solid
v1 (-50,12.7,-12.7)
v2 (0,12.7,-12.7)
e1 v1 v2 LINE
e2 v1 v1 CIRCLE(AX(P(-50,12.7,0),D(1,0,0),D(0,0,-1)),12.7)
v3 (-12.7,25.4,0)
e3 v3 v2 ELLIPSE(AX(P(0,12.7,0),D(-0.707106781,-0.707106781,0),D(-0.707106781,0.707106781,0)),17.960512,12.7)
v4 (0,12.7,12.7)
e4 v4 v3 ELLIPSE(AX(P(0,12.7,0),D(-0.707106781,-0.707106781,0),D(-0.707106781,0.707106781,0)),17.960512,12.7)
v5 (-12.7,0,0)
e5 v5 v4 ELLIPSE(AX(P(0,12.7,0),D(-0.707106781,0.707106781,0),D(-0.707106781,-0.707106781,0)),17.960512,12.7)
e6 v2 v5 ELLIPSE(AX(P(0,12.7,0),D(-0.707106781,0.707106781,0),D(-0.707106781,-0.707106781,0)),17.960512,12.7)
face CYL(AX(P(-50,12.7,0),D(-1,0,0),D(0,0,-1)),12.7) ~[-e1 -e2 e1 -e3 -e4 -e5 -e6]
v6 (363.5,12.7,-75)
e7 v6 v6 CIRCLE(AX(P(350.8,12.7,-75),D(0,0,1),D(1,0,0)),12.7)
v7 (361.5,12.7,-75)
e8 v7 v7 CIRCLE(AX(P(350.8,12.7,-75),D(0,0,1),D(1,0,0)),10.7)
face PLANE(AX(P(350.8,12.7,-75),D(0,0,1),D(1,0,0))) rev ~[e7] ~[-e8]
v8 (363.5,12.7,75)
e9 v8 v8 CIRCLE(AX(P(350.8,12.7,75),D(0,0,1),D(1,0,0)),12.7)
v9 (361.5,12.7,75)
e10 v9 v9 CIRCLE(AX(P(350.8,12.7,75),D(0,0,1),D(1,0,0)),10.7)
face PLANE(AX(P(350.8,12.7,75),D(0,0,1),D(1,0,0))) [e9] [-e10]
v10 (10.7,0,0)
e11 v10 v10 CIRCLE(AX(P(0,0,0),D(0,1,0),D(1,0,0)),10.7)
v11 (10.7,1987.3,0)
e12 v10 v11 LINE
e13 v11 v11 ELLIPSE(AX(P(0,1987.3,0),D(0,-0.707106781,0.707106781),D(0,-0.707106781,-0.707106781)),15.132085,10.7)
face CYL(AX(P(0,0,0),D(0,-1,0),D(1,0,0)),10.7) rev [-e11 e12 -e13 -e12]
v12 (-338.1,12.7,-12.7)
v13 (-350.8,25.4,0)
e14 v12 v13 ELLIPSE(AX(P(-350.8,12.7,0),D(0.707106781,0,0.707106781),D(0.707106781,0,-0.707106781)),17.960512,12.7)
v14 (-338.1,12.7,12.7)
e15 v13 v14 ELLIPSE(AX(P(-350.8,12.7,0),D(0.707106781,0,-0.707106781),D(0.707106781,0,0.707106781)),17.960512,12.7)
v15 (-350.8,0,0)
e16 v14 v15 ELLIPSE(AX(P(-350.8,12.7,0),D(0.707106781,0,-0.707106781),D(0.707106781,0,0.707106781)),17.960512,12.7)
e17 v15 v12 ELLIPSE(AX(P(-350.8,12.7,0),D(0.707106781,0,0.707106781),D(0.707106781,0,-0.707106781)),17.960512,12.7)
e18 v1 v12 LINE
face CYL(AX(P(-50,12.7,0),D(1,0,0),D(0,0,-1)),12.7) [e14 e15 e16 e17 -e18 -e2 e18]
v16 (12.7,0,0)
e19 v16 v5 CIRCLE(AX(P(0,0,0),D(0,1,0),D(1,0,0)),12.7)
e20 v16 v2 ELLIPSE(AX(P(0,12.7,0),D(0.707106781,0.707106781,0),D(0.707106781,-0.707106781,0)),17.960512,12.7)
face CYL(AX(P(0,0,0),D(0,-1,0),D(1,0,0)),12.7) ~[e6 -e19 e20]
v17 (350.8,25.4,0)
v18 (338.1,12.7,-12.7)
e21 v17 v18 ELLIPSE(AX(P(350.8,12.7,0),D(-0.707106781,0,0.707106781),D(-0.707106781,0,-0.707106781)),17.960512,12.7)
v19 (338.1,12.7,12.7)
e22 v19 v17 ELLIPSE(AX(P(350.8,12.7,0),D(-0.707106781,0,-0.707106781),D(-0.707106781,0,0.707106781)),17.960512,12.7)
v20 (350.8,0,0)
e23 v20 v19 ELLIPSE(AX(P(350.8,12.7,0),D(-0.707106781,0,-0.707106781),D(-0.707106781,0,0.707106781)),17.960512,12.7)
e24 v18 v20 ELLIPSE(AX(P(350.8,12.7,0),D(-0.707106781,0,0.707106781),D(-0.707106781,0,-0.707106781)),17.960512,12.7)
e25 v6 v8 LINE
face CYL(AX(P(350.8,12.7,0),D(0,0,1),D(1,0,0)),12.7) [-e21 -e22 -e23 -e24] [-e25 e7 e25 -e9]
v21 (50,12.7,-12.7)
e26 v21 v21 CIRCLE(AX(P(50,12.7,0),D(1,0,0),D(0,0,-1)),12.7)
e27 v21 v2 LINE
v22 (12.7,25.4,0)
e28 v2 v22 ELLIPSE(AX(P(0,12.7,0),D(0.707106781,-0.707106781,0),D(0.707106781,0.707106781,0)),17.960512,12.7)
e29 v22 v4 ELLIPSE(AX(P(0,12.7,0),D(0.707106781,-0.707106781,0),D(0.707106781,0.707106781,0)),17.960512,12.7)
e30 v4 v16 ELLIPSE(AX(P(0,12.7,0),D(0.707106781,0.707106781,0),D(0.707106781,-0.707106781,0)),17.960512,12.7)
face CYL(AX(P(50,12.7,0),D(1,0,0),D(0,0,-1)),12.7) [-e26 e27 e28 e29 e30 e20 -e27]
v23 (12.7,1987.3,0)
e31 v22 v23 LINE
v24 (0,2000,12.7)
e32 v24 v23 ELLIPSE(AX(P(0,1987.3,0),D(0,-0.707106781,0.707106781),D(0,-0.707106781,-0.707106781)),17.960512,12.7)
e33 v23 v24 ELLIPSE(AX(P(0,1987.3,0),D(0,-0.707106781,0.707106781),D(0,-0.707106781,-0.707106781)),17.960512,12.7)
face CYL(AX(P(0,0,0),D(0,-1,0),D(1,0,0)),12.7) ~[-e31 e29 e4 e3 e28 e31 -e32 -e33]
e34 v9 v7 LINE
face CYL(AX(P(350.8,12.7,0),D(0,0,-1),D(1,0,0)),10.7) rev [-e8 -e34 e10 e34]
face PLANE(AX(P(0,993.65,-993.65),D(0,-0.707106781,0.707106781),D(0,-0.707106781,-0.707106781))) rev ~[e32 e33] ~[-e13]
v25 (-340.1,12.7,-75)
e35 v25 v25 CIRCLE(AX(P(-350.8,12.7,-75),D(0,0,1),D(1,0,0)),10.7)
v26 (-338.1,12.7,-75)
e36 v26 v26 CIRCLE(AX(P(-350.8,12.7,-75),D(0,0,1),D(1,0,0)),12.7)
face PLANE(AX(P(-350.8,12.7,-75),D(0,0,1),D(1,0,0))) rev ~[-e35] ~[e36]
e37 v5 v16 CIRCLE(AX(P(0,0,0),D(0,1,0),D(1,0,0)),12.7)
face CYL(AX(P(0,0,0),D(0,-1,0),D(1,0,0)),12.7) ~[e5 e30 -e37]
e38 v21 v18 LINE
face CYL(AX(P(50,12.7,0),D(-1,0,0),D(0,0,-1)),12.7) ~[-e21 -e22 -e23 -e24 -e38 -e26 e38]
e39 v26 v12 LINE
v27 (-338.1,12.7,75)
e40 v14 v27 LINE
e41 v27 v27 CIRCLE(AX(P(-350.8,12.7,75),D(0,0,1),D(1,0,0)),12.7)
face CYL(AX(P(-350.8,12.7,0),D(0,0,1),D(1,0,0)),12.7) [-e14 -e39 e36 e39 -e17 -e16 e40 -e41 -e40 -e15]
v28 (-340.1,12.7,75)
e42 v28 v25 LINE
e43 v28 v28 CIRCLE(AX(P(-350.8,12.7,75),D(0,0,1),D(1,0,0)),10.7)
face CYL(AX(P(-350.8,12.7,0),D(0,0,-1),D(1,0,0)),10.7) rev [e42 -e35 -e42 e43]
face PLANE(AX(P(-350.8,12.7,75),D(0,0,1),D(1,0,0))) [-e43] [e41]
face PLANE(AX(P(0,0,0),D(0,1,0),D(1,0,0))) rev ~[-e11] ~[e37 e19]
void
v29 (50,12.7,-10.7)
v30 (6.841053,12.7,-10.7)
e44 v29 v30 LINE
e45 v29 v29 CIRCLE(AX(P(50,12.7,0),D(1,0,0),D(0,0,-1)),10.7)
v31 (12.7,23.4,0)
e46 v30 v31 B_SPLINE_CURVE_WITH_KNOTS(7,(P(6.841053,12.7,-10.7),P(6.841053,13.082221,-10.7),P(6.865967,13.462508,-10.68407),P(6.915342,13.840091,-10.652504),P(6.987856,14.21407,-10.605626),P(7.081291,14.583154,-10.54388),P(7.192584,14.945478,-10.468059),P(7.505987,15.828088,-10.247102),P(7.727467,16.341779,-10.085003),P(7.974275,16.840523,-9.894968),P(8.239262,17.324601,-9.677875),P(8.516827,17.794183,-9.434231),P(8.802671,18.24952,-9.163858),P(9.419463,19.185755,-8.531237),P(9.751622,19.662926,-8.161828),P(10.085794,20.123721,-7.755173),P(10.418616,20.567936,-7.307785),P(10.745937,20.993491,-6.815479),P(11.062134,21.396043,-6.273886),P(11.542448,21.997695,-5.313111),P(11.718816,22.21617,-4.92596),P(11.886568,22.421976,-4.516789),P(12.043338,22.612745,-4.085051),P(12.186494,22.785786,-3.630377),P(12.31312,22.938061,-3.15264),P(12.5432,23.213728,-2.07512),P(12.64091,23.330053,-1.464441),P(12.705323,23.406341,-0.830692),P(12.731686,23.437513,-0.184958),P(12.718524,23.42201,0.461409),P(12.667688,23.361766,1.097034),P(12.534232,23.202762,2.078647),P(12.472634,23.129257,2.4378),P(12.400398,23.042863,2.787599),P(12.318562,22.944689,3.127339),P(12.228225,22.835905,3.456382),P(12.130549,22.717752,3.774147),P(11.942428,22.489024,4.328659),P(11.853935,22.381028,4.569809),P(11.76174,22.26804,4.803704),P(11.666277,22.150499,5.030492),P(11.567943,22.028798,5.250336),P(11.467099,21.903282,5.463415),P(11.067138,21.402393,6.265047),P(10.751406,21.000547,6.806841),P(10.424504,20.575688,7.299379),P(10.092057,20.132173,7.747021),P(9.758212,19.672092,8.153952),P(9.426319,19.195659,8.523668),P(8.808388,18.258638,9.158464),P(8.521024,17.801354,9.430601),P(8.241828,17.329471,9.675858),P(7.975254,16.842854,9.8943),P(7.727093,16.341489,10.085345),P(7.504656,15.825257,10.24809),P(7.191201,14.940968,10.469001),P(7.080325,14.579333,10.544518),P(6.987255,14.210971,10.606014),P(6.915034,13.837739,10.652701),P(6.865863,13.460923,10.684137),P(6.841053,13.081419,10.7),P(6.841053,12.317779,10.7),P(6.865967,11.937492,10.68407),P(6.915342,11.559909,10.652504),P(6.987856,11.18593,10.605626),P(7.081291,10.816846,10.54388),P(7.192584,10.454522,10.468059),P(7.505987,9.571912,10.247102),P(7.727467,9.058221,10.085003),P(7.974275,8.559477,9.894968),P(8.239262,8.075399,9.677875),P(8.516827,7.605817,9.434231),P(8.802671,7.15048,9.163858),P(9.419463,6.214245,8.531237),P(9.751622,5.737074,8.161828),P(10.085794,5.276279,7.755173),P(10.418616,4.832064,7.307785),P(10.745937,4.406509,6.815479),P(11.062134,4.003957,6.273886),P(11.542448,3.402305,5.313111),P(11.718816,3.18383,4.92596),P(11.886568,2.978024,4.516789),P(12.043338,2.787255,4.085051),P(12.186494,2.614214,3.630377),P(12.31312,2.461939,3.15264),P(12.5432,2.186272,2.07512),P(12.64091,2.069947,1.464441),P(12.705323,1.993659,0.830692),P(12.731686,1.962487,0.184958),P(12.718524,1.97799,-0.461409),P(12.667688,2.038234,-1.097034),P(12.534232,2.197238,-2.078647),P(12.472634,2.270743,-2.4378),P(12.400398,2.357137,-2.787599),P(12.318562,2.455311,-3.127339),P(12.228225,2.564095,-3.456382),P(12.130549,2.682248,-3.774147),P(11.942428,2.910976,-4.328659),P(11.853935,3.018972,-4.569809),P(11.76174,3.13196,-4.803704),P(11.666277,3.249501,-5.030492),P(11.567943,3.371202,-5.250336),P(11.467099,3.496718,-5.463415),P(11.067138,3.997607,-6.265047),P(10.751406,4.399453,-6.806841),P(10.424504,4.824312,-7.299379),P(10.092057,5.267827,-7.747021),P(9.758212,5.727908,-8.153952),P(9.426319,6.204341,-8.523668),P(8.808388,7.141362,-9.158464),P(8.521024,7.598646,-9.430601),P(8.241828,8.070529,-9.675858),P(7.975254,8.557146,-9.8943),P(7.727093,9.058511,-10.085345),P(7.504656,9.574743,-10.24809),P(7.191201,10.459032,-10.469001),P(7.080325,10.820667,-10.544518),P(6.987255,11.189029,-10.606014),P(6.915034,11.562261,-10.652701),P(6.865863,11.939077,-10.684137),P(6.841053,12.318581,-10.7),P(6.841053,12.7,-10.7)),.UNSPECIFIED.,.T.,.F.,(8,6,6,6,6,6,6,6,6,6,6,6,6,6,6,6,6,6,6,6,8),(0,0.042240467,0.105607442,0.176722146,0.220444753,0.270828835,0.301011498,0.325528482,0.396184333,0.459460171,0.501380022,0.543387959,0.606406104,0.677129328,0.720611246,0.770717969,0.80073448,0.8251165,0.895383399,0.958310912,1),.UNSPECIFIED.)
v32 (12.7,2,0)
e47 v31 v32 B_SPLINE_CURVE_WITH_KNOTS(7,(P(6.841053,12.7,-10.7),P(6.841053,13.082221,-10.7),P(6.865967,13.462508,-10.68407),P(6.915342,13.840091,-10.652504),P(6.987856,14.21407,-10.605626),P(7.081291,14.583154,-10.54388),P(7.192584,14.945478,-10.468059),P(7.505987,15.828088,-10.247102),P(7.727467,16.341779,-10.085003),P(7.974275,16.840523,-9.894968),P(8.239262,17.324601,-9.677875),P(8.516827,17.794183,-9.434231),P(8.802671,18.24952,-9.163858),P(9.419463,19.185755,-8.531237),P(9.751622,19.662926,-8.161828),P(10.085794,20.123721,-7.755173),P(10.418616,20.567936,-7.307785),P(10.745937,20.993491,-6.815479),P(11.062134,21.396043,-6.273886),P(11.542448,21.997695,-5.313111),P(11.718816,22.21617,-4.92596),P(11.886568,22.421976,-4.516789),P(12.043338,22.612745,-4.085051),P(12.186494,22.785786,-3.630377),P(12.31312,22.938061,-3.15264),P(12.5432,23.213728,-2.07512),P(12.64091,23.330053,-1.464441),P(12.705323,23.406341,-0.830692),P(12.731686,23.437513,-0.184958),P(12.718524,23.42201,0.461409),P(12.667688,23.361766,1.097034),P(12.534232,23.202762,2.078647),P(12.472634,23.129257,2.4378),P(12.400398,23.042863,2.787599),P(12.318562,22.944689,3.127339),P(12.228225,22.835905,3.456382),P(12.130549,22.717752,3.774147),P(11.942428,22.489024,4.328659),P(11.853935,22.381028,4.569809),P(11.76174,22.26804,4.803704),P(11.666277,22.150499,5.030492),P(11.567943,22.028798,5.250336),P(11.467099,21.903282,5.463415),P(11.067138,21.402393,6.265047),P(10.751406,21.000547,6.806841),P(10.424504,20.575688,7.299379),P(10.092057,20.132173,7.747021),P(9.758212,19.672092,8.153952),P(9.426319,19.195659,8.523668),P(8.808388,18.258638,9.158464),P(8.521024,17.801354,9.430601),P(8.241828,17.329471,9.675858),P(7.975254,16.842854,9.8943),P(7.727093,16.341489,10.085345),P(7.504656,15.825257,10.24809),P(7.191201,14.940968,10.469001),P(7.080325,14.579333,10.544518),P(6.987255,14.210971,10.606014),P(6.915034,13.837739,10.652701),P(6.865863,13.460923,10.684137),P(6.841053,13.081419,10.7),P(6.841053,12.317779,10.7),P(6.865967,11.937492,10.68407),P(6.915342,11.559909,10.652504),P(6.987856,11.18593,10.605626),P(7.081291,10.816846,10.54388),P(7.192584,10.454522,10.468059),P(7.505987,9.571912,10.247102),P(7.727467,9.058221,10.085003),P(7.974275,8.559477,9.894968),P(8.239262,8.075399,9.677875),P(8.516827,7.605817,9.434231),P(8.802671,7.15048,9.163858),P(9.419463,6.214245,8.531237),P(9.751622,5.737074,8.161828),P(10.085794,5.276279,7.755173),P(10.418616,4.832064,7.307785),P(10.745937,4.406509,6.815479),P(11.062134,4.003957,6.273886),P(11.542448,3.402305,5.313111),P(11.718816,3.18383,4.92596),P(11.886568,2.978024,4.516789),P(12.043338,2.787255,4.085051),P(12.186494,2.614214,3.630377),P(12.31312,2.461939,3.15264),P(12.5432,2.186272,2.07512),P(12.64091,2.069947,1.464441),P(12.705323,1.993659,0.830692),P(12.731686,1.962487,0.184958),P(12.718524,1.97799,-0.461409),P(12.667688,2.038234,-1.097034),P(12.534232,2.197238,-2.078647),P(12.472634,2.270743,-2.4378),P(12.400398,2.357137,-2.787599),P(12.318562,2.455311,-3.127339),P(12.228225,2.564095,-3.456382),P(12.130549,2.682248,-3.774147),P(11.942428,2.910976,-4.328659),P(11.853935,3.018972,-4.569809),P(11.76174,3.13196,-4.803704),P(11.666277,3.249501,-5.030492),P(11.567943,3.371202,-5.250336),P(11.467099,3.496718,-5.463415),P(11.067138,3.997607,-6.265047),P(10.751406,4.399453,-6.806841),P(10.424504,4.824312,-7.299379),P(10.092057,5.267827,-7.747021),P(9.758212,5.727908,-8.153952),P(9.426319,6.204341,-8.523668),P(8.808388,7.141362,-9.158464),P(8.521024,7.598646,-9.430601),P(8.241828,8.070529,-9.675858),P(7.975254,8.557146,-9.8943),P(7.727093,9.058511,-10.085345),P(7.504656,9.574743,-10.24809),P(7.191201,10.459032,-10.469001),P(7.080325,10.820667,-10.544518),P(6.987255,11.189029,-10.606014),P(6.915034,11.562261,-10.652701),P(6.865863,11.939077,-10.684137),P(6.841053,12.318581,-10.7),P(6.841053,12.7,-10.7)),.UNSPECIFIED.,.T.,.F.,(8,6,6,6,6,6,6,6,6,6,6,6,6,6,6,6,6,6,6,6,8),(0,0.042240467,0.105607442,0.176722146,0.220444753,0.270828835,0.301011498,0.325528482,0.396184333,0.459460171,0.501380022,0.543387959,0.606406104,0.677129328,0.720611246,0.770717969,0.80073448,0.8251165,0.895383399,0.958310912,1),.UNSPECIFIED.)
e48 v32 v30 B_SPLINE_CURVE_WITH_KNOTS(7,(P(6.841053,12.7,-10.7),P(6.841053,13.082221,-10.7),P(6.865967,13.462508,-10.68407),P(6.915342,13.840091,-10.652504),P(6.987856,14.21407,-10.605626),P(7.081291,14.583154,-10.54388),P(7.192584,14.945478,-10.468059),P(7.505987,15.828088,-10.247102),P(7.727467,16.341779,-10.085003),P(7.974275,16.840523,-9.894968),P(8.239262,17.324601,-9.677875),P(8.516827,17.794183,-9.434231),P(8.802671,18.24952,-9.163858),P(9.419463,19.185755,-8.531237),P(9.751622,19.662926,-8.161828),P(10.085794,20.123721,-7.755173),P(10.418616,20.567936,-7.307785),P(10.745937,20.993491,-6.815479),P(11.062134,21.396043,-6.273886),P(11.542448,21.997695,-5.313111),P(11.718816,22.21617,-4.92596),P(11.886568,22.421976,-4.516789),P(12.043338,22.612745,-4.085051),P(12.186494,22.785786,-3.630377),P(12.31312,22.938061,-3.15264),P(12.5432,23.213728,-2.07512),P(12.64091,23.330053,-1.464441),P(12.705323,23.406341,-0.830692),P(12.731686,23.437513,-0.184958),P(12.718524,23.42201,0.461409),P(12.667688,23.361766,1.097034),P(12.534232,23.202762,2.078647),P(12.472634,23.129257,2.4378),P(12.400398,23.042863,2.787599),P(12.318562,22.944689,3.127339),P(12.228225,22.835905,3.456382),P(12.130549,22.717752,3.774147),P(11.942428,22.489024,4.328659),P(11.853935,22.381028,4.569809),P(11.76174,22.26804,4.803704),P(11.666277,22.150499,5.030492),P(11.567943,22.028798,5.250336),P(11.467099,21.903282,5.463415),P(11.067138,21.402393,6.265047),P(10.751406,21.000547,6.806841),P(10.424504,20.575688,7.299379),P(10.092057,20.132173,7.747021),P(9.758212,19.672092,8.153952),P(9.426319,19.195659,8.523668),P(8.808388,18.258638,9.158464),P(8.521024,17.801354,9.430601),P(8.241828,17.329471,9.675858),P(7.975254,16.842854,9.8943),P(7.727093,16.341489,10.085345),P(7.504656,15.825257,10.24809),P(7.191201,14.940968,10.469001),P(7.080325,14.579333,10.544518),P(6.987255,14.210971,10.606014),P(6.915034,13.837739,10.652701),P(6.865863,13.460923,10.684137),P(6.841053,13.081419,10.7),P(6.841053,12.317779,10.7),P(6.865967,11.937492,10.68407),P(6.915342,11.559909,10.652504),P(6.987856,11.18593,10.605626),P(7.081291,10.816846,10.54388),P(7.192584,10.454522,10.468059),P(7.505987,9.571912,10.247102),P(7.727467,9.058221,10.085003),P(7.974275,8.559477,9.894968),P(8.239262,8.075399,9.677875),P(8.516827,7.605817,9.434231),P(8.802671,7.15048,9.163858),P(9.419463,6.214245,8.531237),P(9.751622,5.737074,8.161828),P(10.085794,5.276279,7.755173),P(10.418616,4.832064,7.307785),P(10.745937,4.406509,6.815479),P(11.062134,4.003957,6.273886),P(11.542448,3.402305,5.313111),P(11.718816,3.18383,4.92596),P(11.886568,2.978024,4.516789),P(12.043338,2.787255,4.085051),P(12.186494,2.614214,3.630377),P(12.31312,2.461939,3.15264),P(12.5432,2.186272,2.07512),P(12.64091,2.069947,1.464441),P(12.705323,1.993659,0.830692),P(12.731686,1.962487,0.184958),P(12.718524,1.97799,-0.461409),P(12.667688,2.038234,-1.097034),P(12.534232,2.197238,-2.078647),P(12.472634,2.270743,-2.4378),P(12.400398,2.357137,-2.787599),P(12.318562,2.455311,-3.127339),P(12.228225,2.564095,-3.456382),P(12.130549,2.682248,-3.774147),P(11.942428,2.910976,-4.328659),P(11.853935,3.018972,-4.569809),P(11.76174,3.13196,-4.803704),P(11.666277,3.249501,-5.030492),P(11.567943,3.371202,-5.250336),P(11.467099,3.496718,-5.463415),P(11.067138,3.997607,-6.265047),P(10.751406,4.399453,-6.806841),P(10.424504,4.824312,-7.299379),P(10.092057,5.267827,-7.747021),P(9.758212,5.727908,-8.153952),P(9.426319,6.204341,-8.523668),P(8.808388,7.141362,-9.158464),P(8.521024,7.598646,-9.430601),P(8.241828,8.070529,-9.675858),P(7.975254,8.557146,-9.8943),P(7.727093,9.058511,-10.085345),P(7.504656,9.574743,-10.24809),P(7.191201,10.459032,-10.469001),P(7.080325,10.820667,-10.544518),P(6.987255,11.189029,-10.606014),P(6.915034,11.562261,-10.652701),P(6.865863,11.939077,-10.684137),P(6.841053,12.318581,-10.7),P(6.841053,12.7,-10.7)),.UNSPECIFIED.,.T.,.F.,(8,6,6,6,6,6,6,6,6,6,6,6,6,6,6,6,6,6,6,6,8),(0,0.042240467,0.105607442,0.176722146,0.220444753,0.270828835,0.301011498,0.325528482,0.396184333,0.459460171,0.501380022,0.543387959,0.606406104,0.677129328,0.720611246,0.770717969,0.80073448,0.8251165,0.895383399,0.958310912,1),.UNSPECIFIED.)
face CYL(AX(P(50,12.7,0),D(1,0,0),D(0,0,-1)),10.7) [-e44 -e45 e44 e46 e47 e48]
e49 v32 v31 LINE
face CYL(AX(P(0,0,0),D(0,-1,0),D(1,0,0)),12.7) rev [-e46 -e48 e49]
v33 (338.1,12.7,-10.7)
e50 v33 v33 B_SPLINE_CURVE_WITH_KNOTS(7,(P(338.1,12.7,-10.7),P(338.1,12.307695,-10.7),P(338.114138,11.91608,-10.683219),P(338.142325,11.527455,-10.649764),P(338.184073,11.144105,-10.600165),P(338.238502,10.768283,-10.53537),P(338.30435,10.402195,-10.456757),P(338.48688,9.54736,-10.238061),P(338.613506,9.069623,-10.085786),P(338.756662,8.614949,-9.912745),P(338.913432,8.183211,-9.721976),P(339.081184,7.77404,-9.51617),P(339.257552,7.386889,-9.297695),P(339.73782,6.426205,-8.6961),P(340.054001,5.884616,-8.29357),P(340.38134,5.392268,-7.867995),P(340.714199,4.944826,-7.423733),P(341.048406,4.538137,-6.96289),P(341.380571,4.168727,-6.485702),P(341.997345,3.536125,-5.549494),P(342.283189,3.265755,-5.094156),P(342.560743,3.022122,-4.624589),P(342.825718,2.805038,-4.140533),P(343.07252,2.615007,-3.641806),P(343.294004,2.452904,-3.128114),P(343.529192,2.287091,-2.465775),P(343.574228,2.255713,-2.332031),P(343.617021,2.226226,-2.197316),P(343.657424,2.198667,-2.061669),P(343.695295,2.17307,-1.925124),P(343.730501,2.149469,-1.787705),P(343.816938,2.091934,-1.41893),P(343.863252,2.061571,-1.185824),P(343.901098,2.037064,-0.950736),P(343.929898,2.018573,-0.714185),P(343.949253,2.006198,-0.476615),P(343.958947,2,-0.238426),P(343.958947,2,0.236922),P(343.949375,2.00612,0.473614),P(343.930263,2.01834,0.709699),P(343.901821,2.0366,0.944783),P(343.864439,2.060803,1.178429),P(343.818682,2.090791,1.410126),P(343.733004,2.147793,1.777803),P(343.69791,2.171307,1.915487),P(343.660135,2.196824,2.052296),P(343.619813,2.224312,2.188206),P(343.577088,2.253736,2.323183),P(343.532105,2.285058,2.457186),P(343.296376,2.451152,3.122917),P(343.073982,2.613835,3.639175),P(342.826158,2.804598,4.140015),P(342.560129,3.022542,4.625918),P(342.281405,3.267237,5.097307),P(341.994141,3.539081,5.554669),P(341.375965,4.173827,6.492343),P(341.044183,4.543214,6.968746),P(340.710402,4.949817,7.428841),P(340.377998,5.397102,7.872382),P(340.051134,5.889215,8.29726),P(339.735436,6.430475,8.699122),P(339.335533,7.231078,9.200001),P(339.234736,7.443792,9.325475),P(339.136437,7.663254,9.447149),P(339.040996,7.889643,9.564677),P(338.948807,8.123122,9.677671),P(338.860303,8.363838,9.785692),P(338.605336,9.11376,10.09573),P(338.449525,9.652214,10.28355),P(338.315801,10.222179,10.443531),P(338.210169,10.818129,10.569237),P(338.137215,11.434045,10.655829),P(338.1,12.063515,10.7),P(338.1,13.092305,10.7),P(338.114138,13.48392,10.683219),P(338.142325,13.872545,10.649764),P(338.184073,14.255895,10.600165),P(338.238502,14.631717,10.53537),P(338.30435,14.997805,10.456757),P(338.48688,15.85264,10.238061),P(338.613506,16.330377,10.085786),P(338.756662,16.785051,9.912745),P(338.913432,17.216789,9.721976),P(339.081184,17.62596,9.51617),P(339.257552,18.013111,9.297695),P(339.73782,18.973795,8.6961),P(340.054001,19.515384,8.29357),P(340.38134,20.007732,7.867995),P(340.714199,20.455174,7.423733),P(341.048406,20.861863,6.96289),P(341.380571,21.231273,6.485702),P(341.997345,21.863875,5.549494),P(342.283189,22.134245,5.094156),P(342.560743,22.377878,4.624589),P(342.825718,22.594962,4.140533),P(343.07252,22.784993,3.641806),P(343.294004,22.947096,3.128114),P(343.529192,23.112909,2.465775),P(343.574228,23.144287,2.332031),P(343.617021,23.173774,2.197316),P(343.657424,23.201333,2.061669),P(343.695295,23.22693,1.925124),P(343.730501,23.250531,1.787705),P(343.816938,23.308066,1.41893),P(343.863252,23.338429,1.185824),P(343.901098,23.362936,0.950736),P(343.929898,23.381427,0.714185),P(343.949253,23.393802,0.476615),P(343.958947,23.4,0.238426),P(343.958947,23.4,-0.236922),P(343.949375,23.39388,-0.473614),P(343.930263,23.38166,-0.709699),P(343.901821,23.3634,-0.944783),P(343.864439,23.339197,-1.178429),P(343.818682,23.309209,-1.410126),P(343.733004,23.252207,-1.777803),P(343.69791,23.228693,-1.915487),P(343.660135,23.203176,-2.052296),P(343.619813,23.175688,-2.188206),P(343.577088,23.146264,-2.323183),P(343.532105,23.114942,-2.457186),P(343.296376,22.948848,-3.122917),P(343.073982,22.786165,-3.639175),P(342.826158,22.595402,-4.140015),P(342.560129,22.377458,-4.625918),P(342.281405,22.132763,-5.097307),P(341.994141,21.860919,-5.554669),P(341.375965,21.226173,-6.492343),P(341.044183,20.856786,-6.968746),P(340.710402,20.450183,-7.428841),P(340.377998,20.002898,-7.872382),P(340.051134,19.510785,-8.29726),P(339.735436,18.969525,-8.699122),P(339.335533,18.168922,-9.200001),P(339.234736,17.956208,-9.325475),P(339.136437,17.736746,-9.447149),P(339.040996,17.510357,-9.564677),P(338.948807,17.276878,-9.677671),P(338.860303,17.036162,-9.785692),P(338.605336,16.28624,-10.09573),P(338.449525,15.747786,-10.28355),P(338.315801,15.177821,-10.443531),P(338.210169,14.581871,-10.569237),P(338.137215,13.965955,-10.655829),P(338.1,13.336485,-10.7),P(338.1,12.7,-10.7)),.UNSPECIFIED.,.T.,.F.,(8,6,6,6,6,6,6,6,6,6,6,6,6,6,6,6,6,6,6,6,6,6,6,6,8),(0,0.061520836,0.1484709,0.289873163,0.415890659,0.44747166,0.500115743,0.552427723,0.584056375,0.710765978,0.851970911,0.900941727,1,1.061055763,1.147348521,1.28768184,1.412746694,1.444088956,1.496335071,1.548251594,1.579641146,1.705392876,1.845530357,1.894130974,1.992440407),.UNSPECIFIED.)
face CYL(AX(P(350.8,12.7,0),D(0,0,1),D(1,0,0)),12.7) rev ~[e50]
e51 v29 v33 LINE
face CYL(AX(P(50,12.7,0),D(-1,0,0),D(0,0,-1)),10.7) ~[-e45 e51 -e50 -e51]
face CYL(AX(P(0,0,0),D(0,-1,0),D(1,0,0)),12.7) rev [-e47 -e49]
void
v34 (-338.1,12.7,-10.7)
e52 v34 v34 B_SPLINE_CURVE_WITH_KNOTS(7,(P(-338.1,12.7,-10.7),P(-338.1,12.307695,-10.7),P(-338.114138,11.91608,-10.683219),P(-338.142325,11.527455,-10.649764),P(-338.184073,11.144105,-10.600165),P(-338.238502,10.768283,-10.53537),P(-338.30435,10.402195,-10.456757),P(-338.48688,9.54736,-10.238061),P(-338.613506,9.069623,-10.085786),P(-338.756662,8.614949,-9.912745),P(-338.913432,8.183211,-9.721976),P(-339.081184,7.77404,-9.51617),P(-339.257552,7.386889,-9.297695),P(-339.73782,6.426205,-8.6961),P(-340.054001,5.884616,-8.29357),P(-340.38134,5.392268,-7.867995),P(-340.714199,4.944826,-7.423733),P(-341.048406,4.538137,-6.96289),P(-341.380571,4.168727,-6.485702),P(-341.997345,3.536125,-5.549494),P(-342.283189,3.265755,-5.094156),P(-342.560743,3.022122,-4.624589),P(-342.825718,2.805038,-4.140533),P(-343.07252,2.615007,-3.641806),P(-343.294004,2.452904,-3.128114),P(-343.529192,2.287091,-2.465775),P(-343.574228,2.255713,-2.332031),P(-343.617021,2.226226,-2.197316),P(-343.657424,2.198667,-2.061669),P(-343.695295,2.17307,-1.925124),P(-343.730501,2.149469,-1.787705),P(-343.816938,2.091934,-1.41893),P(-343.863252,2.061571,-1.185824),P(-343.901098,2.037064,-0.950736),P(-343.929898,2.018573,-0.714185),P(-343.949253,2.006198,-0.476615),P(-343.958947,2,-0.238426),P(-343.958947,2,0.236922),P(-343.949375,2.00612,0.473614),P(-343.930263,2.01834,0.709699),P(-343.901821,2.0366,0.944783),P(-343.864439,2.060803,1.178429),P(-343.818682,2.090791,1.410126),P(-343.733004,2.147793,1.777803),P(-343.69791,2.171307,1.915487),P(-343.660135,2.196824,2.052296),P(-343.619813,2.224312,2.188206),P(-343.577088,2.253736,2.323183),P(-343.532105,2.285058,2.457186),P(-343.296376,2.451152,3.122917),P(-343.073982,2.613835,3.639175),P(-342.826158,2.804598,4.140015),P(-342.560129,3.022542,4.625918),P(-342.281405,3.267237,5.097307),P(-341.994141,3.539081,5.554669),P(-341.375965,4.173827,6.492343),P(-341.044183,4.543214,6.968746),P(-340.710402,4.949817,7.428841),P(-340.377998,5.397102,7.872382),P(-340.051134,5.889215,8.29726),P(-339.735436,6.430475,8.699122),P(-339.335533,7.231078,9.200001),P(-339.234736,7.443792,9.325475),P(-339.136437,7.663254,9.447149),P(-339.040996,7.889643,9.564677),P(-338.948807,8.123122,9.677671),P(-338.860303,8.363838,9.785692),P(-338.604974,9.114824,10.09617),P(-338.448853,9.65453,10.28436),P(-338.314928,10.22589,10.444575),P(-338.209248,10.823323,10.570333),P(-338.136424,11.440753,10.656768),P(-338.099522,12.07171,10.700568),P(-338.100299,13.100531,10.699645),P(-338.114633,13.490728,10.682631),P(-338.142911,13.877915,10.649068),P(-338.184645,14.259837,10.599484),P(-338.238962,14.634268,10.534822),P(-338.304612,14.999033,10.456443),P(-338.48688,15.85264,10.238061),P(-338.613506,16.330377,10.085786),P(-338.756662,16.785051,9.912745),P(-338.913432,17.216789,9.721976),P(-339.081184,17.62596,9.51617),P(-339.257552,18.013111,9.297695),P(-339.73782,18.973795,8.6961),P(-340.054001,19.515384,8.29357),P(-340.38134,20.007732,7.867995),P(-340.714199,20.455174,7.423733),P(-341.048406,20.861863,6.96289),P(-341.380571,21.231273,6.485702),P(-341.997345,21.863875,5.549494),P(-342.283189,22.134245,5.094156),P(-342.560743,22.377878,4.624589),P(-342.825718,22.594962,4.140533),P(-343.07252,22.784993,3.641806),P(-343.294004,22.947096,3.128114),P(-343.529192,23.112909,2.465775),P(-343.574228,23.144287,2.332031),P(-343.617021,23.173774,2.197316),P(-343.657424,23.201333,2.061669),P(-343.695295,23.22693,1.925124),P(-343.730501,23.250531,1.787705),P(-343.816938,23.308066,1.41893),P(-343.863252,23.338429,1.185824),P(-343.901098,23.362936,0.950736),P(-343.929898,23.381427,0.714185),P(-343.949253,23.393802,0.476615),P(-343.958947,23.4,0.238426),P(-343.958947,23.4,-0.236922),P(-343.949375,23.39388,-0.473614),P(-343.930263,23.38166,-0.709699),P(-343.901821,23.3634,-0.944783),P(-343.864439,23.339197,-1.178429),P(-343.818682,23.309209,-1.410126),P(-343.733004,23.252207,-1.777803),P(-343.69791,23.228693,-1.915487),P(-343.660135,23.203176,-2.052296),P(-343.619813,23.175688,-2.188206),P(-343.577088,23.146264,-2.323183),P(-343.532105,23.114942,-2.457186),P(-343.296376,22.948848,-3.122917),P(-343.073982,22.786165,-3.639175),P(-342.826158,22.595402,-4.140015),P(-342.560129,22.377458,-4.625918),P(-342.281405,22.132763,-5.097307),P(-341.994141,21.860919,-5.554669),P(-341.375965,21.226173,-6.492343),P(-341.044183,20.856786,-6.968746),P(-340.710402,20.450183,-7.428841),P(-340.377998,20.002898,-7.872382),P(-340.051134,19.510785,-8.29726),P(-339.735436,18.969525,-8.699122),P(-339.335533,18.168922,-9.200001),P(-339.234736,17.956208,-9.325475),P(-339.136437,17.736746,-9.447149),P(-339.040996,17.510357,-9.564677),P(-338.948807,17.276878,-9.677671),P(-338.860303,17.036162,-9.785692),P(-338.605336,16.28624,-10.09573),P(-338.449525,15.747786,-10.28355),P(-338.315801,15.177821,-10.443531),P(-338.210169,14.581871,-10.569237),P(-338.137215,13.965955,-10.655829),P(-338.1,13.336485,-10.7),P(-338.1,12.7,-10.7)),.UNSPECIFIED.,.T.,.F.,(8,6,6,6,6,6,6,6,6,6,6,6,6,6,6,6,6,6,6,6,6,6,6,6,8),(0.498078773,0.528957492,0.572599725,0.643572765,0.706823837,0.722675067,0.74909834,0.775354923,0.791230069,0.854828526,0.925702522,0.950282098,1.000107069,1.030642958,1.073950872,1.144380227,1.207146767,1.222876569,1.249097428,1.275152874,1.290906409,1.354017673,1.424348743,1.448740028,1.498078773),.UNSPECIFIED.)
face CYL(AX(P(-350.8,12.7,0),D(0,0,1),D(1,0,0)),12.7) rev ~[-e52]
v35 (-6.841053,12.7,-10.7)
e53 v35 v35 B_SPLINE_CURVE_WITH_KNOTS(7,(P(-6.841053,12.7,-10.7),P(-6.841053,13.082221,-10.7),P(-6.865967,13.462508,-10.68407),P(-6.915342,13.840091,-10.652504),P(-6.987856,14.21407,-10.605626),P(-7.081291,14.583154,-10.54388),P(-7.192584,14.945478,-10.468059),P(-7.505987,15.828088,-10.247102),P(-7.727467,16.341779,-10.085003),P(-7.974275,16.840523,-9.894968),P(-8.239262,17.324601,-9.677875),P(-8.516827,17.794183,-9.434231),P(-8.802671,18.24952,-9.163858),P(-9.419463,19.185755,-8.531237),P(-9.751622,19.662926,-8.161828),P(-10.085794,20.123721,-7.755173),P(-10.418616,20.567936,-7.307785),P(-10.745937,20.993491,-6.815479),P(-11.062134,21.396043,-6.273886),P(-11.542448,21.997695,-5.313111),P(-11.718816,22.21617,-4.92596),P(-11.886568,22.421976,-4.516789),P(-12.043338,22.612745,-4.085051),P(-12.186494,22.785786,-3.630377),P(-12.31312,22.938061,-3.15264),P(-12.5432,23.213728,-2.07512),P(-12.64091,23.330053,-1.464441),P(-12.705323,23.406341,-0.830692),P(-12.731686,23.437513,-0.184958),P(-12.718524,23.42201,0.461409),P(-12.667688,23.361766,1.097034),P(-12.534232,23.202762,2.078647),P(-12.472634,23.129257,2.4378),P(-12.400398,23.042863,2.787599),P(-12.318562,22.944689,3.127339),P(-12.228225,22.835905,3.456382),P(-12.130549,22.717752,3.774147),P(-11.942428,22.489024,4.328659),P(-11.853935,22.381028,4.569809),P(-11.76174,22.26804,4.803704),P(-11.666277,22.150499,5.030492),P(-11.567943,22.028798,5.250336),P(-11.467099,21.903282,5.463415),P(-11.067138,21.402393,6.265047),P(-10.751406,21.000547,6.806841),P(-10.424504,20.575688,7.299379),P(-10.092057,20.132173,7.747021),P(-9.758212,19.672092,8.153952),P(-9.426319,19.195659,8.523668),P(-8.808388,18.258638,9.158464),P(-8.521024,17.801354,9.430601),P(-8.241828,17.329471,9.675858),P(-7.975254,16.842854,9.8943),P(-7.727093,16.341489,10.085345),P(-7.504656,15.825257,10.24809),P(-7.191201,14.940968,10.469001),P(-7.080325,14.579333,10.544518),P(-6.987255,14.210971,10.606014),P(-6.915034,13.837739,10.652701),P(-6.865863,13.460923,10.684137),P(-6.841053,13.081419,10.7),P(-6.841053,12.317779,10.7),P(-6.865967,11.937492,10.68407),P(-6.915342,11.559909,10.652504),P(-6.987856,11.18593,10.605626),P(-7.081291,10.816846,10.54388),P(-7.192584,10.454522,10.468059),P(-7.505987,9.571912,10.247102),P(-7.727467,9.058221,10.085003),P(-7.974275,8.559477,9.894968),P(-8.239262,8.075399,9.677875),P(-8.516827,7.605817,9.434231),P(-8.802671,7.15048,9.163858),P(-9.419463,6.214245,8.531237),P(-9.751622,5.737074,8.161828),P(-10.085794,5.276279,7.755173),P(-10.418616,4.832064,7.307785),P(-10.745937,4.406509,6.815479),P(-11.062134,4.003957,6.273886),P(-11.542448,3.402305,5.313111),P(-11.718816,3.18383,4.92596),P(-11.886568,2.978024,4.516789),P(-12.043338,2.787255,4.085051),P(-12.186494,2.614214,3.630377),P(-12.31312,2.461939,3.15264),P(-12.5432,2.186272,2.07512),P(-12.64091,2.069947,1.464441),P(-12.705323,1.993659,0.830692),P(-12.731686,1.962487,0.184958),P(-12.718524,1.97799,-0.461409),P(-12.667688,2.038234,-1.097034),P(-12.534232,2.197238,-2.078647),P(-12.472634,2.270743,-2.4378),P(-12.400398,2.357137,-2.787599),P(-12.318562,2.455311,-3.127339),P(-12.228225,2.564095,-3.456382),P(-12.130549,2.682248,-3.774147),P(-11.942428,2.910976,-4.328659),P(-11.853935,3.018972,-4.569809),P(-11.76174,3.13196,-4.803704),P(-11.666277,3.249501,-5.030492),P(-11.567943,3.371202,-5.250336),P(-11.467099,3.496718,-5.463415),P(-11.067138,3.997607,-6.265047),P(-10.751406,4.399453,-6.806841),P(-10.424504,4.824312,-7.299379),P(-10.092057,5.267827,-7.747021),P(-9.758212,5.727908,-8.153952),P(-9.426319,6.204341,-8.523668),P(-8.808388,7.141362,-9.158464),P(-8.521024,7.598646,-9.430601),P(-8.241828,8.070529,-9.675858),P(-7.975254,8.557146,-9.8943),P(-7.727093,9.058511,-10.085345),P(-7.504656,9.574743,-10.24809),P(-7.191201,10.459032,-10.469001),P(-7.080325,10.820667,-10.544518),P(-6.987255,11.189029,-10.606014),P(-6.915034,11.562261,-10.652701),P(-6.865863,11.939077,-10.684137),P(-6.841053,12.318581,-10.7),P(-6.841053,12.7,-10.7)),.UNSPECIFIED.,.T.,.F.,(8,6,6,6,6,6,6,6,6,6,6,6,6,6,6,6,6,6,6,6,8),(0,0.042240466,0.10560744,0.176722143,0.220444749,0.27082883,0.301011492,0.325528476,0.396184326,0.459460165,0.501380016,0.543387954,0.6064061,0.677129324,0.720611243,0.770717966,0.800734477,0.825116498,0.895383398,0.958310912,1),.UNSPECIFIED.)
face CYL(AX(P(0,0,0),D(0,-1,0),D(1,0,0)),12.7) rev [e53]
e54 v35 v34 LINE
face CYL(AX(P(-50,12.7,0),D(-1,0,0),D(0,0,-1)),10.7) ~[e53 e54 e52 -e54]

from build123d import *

# Parameters (mm, degrees)
SKETCH1_R                            = 12.7
SKETCH1_R_2                          = 10.7
EXTRUDE_THIN1_DEPTH                  = 2000
SKETCH6_R                            = 12.7
SKETCH6_R_2                          = 10.7
EXTRUDE_THIN4_DEPTH                  = 75
EXTRUDE_THIN5_REACH                  = 2086.148
EXTRUDE_THIN5_END_RADIUS             = 12.7
EXTRUDE_THIN5_START                  = 50
SKETCH7_R                            = 12.7
SKETCH7_R_2                          = 10.7
EXTRUDE_THIN5_DIRECTION_2_REACH      = 2086.148
EXTRUDE_THIN5_DIRECTION_2_END_RADIUS = 12.7
SKETCH8_R                            = 12.7
SKETCH8_R_2                          = 10.7
EXTRUDE_THIN6_DEPTH                  = 75
EXTRUDE_THIN8_REACH                  = 2086.148
EXTRUDE_THIN8_END_RADIUS             = 12.7
EXTRUDE_THIN8_START                  = -50
SKETCH9_R                            = 12.7
SKETCH9_R_2                          = 10.7
EXTRUDE_THIN8_DIRECTION_2_REACH      = 2086.148
EXTRUDE_THIN8_DIRECTION_2_END_RADIUS = 12.7


with BuildPart() as part:
    # Sketch1 → Extrude-Thin1 (new body)
    with BuildSketch(Plane(origin=(0, 0, 0), x_dir=(1, 0, 0), z_dir=(0, 1, 0))):
        Circle(SKETCH1_R)
        Circle(SKETCH1_R_2, mode=Mode.SUBTRACT)
    extrude(amount=EXTRUDE_THIN1_DEPTH)



with BuildPart() as body_2:
    # Sketch6 → Extrude-Thin4 (new, symmetric)
    with BuildSketch(Plane.XY):
        with Locations((350.8, 12.7)):
            Circle(SKETCH6_R)
        with Locations((350.8, 12.7)):
            Circle(SKETCH6_R_2, mode=Mode.SUBTRACT)
    extrude(amount=EXTRUDE_THIN4_DEPTH, both=True)


with BuildPart() as part_1:
    add(part.part)

    add(body_2.part)  # Extrude-Thin5 merges body 2
    # Extrude-Thin5: up to this cylinder (the profile starts outside it)
    extrude_thin5_end = Plane(origin=(350.8, 12.7, 12.34079), z_dir=(0, 0, -1)) * Cylinder(EXTRUDE_THIN5_END_RADIUS, 4198.696, mode=Mode.PRIVATE)
    # Sketch7 → Extrude-Thin5 (add, up to the surface)
    with BuildSketch(Plane(origin=(0, 0, 0), x_dir=(0, 0, -1), z_dir=(1, 0, 0)).offset(EXTRUDE_THIN5_START), mode=Mode.PRIVATE) as extrude_thin5_sk1:
        with Locations((0, 12.7)):
            Circle(SKETCH7_R)
        with Locations((0, 12.7)):
            Circle(SKETCH7_R_2, mode=Mode.SUBTRACT)
    extrude_thin5_tool1 = extrude(extrude_thin5_sk1.sketch, amount=EXTRUDE_THIN5_REACH, mode=Mode.PRIVATE) - extrude_thin5_end
    add(extrude_thin5_tool1.solids().sort_by_distance((50, 12.7, 12.34079))[0])

    # Extrude-Thin5 direction 2: up to this cylinder (the profile starts outside it)
    extrude_thin5_direction_2_end = Plane(origin=(0, 12.7, 0), z_dir=(0, -1, 0)) * Cylinder(EXTRUDE_THIN5_DIRECTION_2_END_RADIUS, 4198.696, mode=Mode.PRIVATE)
    # Sketch7 → Extrude-Thin5 direction 2 (add, up to the surface)
    with BuildSketch(Plane(origin=(0, 0, 0), x_dir=(0, 0, -1), z_dir=(1, 0, 0)).offset(EXTRUDE_THIN5_START), mode=Mode.PRIVATE) as extrude_thin5_direction_2_sk1:
        with Locations((0, 12.7)):
            Circle(SKETCH7_R)
        with Locations((0, 12.7)):
            Circle(SKETCH7_R_2, mode=Mode.SUBTRACT)
    extrude_thin5_direction_2_tool1 = extrude(extrude_thin5_direction_2_sk1.sketch, amount=-EXTRUDE_THIN5_DIRECTION_2_REACH, mode=Mode.PRIVATE) - extrude_thin5_direction_2_end
    add(extrude_thin5_direction_2_tool1.solids().sort_by_distance((50, 12.7, 12.34079))[0])



with BuildPart() as body_2_2:
    # Sketch8 → Extrude-Thin6 (new, symmetric)
    with BuildSketch(Plane.XY):
        with Locations((-350.8, 12.7)):
            Circle(SKETCH8_R)
        with Locations((-350.8, 12.7)):
            Circle(SKETCH8_R_2, mode=Mode.SUBTRACT)
    extrude(amount=EXTRUDE_THIN6_DEPTH, both=True)


with BuildPart() as part_2:
    add(part_1.part)

    add(body_2_2.part)  # Extrude-Thin8 merges body 2 2
    # Extrude-Thin8: up to this cylinder (the profile starts outside it)
    extrude_thin8_end = Plane(origin=(-350.8, 12.7, 12.34079), z_dir=(0, 0, -1)) * Cylinder(EXTRUDE_THIN8_END_RADIUS, 4198.696, mode=Mode.PRIVATE)
    # Sketch9 → Extrude-Thin8 (add, up to the surface)
    with BuildSketch(Plane(origin=(0, 0, 0), x_dir=(0, 0, -1), z_dir=(1, 0, 0)).offset(EXTRUDE_THIN8_START), mode=Mode.PRIVATE) as extrude_thin8_sk1:
        with Locations((0, 12.7)):
            Circle(SKETCH9_R)
        with Locations((0, 12.7)):
            Circle(SKETCH9_R_2, mode=Mode.SUBTRACT)
    extrude_thin8_tool1 = extrude(extrude_thin8_sk1.sketch, amount=-EXTRUDE_THIN8_REACH, mode=Mode.PRIVATE) - extrude_thin8_end
    add(extrude_thin8_tool1.solids().sort_by_distance((-50, 12.7, 12.34079))[0])

    # Extrude-Thin8 direction 2: up to this cylinder (the profile starts outside it)
    extrude_thin8_direction_2_end = Plane(origin=(0, 12.7, 0), z_dir=(0, -1, 0)) * Cylinder(EXTRUDE_THIN8_DIRECTION_2_END_RADIUS, 4198.696, mode=Mode.PRIVATE)
    # Sketch9 → Extrude-Thin8 direction 2 (add, up to the surface)
    with BuildSketch(Plane(origin=(0, 0, 0), x_dir=(0, 0, -1), z_dir=(1, 0, 0)).offset(EXTRUDE_THIN8_START), mode=Mode.PRIVATE) as extrude_thin8_direction_2_sk1:
        with Locations((0, 12.7)):
            Circle(SKETCH9_R)
        with Locations((0, 12.7)):
            Circle(SKETCH9_R_2, mode=Mode.SUBTRACT)
    extrude_thin8_direction_2_tool1 = extrude(extrude_thin8_direction_2_sk1.sketch, amount=EXTRUDE_THIN8_DIRECTION_2_REACH, mode=Mode.PRIVATE) - extrude_thin8_direction_2_end
    add(extrude_thin8_direction_2_tool1.solids().sort_by_distance((-50, 12.7, 12.34079))[0])

    # SurfaceCut1
    split(bisect_by=Plane(origin=(0, 993.65, -993.65), x_dir=(0, -0.7071067811865457, -0.7071067811865493), z_dir=(0, -0.7071067811865493, 0.7071067811865457)), keep=Keep.TOP)


solid = part_2.part
